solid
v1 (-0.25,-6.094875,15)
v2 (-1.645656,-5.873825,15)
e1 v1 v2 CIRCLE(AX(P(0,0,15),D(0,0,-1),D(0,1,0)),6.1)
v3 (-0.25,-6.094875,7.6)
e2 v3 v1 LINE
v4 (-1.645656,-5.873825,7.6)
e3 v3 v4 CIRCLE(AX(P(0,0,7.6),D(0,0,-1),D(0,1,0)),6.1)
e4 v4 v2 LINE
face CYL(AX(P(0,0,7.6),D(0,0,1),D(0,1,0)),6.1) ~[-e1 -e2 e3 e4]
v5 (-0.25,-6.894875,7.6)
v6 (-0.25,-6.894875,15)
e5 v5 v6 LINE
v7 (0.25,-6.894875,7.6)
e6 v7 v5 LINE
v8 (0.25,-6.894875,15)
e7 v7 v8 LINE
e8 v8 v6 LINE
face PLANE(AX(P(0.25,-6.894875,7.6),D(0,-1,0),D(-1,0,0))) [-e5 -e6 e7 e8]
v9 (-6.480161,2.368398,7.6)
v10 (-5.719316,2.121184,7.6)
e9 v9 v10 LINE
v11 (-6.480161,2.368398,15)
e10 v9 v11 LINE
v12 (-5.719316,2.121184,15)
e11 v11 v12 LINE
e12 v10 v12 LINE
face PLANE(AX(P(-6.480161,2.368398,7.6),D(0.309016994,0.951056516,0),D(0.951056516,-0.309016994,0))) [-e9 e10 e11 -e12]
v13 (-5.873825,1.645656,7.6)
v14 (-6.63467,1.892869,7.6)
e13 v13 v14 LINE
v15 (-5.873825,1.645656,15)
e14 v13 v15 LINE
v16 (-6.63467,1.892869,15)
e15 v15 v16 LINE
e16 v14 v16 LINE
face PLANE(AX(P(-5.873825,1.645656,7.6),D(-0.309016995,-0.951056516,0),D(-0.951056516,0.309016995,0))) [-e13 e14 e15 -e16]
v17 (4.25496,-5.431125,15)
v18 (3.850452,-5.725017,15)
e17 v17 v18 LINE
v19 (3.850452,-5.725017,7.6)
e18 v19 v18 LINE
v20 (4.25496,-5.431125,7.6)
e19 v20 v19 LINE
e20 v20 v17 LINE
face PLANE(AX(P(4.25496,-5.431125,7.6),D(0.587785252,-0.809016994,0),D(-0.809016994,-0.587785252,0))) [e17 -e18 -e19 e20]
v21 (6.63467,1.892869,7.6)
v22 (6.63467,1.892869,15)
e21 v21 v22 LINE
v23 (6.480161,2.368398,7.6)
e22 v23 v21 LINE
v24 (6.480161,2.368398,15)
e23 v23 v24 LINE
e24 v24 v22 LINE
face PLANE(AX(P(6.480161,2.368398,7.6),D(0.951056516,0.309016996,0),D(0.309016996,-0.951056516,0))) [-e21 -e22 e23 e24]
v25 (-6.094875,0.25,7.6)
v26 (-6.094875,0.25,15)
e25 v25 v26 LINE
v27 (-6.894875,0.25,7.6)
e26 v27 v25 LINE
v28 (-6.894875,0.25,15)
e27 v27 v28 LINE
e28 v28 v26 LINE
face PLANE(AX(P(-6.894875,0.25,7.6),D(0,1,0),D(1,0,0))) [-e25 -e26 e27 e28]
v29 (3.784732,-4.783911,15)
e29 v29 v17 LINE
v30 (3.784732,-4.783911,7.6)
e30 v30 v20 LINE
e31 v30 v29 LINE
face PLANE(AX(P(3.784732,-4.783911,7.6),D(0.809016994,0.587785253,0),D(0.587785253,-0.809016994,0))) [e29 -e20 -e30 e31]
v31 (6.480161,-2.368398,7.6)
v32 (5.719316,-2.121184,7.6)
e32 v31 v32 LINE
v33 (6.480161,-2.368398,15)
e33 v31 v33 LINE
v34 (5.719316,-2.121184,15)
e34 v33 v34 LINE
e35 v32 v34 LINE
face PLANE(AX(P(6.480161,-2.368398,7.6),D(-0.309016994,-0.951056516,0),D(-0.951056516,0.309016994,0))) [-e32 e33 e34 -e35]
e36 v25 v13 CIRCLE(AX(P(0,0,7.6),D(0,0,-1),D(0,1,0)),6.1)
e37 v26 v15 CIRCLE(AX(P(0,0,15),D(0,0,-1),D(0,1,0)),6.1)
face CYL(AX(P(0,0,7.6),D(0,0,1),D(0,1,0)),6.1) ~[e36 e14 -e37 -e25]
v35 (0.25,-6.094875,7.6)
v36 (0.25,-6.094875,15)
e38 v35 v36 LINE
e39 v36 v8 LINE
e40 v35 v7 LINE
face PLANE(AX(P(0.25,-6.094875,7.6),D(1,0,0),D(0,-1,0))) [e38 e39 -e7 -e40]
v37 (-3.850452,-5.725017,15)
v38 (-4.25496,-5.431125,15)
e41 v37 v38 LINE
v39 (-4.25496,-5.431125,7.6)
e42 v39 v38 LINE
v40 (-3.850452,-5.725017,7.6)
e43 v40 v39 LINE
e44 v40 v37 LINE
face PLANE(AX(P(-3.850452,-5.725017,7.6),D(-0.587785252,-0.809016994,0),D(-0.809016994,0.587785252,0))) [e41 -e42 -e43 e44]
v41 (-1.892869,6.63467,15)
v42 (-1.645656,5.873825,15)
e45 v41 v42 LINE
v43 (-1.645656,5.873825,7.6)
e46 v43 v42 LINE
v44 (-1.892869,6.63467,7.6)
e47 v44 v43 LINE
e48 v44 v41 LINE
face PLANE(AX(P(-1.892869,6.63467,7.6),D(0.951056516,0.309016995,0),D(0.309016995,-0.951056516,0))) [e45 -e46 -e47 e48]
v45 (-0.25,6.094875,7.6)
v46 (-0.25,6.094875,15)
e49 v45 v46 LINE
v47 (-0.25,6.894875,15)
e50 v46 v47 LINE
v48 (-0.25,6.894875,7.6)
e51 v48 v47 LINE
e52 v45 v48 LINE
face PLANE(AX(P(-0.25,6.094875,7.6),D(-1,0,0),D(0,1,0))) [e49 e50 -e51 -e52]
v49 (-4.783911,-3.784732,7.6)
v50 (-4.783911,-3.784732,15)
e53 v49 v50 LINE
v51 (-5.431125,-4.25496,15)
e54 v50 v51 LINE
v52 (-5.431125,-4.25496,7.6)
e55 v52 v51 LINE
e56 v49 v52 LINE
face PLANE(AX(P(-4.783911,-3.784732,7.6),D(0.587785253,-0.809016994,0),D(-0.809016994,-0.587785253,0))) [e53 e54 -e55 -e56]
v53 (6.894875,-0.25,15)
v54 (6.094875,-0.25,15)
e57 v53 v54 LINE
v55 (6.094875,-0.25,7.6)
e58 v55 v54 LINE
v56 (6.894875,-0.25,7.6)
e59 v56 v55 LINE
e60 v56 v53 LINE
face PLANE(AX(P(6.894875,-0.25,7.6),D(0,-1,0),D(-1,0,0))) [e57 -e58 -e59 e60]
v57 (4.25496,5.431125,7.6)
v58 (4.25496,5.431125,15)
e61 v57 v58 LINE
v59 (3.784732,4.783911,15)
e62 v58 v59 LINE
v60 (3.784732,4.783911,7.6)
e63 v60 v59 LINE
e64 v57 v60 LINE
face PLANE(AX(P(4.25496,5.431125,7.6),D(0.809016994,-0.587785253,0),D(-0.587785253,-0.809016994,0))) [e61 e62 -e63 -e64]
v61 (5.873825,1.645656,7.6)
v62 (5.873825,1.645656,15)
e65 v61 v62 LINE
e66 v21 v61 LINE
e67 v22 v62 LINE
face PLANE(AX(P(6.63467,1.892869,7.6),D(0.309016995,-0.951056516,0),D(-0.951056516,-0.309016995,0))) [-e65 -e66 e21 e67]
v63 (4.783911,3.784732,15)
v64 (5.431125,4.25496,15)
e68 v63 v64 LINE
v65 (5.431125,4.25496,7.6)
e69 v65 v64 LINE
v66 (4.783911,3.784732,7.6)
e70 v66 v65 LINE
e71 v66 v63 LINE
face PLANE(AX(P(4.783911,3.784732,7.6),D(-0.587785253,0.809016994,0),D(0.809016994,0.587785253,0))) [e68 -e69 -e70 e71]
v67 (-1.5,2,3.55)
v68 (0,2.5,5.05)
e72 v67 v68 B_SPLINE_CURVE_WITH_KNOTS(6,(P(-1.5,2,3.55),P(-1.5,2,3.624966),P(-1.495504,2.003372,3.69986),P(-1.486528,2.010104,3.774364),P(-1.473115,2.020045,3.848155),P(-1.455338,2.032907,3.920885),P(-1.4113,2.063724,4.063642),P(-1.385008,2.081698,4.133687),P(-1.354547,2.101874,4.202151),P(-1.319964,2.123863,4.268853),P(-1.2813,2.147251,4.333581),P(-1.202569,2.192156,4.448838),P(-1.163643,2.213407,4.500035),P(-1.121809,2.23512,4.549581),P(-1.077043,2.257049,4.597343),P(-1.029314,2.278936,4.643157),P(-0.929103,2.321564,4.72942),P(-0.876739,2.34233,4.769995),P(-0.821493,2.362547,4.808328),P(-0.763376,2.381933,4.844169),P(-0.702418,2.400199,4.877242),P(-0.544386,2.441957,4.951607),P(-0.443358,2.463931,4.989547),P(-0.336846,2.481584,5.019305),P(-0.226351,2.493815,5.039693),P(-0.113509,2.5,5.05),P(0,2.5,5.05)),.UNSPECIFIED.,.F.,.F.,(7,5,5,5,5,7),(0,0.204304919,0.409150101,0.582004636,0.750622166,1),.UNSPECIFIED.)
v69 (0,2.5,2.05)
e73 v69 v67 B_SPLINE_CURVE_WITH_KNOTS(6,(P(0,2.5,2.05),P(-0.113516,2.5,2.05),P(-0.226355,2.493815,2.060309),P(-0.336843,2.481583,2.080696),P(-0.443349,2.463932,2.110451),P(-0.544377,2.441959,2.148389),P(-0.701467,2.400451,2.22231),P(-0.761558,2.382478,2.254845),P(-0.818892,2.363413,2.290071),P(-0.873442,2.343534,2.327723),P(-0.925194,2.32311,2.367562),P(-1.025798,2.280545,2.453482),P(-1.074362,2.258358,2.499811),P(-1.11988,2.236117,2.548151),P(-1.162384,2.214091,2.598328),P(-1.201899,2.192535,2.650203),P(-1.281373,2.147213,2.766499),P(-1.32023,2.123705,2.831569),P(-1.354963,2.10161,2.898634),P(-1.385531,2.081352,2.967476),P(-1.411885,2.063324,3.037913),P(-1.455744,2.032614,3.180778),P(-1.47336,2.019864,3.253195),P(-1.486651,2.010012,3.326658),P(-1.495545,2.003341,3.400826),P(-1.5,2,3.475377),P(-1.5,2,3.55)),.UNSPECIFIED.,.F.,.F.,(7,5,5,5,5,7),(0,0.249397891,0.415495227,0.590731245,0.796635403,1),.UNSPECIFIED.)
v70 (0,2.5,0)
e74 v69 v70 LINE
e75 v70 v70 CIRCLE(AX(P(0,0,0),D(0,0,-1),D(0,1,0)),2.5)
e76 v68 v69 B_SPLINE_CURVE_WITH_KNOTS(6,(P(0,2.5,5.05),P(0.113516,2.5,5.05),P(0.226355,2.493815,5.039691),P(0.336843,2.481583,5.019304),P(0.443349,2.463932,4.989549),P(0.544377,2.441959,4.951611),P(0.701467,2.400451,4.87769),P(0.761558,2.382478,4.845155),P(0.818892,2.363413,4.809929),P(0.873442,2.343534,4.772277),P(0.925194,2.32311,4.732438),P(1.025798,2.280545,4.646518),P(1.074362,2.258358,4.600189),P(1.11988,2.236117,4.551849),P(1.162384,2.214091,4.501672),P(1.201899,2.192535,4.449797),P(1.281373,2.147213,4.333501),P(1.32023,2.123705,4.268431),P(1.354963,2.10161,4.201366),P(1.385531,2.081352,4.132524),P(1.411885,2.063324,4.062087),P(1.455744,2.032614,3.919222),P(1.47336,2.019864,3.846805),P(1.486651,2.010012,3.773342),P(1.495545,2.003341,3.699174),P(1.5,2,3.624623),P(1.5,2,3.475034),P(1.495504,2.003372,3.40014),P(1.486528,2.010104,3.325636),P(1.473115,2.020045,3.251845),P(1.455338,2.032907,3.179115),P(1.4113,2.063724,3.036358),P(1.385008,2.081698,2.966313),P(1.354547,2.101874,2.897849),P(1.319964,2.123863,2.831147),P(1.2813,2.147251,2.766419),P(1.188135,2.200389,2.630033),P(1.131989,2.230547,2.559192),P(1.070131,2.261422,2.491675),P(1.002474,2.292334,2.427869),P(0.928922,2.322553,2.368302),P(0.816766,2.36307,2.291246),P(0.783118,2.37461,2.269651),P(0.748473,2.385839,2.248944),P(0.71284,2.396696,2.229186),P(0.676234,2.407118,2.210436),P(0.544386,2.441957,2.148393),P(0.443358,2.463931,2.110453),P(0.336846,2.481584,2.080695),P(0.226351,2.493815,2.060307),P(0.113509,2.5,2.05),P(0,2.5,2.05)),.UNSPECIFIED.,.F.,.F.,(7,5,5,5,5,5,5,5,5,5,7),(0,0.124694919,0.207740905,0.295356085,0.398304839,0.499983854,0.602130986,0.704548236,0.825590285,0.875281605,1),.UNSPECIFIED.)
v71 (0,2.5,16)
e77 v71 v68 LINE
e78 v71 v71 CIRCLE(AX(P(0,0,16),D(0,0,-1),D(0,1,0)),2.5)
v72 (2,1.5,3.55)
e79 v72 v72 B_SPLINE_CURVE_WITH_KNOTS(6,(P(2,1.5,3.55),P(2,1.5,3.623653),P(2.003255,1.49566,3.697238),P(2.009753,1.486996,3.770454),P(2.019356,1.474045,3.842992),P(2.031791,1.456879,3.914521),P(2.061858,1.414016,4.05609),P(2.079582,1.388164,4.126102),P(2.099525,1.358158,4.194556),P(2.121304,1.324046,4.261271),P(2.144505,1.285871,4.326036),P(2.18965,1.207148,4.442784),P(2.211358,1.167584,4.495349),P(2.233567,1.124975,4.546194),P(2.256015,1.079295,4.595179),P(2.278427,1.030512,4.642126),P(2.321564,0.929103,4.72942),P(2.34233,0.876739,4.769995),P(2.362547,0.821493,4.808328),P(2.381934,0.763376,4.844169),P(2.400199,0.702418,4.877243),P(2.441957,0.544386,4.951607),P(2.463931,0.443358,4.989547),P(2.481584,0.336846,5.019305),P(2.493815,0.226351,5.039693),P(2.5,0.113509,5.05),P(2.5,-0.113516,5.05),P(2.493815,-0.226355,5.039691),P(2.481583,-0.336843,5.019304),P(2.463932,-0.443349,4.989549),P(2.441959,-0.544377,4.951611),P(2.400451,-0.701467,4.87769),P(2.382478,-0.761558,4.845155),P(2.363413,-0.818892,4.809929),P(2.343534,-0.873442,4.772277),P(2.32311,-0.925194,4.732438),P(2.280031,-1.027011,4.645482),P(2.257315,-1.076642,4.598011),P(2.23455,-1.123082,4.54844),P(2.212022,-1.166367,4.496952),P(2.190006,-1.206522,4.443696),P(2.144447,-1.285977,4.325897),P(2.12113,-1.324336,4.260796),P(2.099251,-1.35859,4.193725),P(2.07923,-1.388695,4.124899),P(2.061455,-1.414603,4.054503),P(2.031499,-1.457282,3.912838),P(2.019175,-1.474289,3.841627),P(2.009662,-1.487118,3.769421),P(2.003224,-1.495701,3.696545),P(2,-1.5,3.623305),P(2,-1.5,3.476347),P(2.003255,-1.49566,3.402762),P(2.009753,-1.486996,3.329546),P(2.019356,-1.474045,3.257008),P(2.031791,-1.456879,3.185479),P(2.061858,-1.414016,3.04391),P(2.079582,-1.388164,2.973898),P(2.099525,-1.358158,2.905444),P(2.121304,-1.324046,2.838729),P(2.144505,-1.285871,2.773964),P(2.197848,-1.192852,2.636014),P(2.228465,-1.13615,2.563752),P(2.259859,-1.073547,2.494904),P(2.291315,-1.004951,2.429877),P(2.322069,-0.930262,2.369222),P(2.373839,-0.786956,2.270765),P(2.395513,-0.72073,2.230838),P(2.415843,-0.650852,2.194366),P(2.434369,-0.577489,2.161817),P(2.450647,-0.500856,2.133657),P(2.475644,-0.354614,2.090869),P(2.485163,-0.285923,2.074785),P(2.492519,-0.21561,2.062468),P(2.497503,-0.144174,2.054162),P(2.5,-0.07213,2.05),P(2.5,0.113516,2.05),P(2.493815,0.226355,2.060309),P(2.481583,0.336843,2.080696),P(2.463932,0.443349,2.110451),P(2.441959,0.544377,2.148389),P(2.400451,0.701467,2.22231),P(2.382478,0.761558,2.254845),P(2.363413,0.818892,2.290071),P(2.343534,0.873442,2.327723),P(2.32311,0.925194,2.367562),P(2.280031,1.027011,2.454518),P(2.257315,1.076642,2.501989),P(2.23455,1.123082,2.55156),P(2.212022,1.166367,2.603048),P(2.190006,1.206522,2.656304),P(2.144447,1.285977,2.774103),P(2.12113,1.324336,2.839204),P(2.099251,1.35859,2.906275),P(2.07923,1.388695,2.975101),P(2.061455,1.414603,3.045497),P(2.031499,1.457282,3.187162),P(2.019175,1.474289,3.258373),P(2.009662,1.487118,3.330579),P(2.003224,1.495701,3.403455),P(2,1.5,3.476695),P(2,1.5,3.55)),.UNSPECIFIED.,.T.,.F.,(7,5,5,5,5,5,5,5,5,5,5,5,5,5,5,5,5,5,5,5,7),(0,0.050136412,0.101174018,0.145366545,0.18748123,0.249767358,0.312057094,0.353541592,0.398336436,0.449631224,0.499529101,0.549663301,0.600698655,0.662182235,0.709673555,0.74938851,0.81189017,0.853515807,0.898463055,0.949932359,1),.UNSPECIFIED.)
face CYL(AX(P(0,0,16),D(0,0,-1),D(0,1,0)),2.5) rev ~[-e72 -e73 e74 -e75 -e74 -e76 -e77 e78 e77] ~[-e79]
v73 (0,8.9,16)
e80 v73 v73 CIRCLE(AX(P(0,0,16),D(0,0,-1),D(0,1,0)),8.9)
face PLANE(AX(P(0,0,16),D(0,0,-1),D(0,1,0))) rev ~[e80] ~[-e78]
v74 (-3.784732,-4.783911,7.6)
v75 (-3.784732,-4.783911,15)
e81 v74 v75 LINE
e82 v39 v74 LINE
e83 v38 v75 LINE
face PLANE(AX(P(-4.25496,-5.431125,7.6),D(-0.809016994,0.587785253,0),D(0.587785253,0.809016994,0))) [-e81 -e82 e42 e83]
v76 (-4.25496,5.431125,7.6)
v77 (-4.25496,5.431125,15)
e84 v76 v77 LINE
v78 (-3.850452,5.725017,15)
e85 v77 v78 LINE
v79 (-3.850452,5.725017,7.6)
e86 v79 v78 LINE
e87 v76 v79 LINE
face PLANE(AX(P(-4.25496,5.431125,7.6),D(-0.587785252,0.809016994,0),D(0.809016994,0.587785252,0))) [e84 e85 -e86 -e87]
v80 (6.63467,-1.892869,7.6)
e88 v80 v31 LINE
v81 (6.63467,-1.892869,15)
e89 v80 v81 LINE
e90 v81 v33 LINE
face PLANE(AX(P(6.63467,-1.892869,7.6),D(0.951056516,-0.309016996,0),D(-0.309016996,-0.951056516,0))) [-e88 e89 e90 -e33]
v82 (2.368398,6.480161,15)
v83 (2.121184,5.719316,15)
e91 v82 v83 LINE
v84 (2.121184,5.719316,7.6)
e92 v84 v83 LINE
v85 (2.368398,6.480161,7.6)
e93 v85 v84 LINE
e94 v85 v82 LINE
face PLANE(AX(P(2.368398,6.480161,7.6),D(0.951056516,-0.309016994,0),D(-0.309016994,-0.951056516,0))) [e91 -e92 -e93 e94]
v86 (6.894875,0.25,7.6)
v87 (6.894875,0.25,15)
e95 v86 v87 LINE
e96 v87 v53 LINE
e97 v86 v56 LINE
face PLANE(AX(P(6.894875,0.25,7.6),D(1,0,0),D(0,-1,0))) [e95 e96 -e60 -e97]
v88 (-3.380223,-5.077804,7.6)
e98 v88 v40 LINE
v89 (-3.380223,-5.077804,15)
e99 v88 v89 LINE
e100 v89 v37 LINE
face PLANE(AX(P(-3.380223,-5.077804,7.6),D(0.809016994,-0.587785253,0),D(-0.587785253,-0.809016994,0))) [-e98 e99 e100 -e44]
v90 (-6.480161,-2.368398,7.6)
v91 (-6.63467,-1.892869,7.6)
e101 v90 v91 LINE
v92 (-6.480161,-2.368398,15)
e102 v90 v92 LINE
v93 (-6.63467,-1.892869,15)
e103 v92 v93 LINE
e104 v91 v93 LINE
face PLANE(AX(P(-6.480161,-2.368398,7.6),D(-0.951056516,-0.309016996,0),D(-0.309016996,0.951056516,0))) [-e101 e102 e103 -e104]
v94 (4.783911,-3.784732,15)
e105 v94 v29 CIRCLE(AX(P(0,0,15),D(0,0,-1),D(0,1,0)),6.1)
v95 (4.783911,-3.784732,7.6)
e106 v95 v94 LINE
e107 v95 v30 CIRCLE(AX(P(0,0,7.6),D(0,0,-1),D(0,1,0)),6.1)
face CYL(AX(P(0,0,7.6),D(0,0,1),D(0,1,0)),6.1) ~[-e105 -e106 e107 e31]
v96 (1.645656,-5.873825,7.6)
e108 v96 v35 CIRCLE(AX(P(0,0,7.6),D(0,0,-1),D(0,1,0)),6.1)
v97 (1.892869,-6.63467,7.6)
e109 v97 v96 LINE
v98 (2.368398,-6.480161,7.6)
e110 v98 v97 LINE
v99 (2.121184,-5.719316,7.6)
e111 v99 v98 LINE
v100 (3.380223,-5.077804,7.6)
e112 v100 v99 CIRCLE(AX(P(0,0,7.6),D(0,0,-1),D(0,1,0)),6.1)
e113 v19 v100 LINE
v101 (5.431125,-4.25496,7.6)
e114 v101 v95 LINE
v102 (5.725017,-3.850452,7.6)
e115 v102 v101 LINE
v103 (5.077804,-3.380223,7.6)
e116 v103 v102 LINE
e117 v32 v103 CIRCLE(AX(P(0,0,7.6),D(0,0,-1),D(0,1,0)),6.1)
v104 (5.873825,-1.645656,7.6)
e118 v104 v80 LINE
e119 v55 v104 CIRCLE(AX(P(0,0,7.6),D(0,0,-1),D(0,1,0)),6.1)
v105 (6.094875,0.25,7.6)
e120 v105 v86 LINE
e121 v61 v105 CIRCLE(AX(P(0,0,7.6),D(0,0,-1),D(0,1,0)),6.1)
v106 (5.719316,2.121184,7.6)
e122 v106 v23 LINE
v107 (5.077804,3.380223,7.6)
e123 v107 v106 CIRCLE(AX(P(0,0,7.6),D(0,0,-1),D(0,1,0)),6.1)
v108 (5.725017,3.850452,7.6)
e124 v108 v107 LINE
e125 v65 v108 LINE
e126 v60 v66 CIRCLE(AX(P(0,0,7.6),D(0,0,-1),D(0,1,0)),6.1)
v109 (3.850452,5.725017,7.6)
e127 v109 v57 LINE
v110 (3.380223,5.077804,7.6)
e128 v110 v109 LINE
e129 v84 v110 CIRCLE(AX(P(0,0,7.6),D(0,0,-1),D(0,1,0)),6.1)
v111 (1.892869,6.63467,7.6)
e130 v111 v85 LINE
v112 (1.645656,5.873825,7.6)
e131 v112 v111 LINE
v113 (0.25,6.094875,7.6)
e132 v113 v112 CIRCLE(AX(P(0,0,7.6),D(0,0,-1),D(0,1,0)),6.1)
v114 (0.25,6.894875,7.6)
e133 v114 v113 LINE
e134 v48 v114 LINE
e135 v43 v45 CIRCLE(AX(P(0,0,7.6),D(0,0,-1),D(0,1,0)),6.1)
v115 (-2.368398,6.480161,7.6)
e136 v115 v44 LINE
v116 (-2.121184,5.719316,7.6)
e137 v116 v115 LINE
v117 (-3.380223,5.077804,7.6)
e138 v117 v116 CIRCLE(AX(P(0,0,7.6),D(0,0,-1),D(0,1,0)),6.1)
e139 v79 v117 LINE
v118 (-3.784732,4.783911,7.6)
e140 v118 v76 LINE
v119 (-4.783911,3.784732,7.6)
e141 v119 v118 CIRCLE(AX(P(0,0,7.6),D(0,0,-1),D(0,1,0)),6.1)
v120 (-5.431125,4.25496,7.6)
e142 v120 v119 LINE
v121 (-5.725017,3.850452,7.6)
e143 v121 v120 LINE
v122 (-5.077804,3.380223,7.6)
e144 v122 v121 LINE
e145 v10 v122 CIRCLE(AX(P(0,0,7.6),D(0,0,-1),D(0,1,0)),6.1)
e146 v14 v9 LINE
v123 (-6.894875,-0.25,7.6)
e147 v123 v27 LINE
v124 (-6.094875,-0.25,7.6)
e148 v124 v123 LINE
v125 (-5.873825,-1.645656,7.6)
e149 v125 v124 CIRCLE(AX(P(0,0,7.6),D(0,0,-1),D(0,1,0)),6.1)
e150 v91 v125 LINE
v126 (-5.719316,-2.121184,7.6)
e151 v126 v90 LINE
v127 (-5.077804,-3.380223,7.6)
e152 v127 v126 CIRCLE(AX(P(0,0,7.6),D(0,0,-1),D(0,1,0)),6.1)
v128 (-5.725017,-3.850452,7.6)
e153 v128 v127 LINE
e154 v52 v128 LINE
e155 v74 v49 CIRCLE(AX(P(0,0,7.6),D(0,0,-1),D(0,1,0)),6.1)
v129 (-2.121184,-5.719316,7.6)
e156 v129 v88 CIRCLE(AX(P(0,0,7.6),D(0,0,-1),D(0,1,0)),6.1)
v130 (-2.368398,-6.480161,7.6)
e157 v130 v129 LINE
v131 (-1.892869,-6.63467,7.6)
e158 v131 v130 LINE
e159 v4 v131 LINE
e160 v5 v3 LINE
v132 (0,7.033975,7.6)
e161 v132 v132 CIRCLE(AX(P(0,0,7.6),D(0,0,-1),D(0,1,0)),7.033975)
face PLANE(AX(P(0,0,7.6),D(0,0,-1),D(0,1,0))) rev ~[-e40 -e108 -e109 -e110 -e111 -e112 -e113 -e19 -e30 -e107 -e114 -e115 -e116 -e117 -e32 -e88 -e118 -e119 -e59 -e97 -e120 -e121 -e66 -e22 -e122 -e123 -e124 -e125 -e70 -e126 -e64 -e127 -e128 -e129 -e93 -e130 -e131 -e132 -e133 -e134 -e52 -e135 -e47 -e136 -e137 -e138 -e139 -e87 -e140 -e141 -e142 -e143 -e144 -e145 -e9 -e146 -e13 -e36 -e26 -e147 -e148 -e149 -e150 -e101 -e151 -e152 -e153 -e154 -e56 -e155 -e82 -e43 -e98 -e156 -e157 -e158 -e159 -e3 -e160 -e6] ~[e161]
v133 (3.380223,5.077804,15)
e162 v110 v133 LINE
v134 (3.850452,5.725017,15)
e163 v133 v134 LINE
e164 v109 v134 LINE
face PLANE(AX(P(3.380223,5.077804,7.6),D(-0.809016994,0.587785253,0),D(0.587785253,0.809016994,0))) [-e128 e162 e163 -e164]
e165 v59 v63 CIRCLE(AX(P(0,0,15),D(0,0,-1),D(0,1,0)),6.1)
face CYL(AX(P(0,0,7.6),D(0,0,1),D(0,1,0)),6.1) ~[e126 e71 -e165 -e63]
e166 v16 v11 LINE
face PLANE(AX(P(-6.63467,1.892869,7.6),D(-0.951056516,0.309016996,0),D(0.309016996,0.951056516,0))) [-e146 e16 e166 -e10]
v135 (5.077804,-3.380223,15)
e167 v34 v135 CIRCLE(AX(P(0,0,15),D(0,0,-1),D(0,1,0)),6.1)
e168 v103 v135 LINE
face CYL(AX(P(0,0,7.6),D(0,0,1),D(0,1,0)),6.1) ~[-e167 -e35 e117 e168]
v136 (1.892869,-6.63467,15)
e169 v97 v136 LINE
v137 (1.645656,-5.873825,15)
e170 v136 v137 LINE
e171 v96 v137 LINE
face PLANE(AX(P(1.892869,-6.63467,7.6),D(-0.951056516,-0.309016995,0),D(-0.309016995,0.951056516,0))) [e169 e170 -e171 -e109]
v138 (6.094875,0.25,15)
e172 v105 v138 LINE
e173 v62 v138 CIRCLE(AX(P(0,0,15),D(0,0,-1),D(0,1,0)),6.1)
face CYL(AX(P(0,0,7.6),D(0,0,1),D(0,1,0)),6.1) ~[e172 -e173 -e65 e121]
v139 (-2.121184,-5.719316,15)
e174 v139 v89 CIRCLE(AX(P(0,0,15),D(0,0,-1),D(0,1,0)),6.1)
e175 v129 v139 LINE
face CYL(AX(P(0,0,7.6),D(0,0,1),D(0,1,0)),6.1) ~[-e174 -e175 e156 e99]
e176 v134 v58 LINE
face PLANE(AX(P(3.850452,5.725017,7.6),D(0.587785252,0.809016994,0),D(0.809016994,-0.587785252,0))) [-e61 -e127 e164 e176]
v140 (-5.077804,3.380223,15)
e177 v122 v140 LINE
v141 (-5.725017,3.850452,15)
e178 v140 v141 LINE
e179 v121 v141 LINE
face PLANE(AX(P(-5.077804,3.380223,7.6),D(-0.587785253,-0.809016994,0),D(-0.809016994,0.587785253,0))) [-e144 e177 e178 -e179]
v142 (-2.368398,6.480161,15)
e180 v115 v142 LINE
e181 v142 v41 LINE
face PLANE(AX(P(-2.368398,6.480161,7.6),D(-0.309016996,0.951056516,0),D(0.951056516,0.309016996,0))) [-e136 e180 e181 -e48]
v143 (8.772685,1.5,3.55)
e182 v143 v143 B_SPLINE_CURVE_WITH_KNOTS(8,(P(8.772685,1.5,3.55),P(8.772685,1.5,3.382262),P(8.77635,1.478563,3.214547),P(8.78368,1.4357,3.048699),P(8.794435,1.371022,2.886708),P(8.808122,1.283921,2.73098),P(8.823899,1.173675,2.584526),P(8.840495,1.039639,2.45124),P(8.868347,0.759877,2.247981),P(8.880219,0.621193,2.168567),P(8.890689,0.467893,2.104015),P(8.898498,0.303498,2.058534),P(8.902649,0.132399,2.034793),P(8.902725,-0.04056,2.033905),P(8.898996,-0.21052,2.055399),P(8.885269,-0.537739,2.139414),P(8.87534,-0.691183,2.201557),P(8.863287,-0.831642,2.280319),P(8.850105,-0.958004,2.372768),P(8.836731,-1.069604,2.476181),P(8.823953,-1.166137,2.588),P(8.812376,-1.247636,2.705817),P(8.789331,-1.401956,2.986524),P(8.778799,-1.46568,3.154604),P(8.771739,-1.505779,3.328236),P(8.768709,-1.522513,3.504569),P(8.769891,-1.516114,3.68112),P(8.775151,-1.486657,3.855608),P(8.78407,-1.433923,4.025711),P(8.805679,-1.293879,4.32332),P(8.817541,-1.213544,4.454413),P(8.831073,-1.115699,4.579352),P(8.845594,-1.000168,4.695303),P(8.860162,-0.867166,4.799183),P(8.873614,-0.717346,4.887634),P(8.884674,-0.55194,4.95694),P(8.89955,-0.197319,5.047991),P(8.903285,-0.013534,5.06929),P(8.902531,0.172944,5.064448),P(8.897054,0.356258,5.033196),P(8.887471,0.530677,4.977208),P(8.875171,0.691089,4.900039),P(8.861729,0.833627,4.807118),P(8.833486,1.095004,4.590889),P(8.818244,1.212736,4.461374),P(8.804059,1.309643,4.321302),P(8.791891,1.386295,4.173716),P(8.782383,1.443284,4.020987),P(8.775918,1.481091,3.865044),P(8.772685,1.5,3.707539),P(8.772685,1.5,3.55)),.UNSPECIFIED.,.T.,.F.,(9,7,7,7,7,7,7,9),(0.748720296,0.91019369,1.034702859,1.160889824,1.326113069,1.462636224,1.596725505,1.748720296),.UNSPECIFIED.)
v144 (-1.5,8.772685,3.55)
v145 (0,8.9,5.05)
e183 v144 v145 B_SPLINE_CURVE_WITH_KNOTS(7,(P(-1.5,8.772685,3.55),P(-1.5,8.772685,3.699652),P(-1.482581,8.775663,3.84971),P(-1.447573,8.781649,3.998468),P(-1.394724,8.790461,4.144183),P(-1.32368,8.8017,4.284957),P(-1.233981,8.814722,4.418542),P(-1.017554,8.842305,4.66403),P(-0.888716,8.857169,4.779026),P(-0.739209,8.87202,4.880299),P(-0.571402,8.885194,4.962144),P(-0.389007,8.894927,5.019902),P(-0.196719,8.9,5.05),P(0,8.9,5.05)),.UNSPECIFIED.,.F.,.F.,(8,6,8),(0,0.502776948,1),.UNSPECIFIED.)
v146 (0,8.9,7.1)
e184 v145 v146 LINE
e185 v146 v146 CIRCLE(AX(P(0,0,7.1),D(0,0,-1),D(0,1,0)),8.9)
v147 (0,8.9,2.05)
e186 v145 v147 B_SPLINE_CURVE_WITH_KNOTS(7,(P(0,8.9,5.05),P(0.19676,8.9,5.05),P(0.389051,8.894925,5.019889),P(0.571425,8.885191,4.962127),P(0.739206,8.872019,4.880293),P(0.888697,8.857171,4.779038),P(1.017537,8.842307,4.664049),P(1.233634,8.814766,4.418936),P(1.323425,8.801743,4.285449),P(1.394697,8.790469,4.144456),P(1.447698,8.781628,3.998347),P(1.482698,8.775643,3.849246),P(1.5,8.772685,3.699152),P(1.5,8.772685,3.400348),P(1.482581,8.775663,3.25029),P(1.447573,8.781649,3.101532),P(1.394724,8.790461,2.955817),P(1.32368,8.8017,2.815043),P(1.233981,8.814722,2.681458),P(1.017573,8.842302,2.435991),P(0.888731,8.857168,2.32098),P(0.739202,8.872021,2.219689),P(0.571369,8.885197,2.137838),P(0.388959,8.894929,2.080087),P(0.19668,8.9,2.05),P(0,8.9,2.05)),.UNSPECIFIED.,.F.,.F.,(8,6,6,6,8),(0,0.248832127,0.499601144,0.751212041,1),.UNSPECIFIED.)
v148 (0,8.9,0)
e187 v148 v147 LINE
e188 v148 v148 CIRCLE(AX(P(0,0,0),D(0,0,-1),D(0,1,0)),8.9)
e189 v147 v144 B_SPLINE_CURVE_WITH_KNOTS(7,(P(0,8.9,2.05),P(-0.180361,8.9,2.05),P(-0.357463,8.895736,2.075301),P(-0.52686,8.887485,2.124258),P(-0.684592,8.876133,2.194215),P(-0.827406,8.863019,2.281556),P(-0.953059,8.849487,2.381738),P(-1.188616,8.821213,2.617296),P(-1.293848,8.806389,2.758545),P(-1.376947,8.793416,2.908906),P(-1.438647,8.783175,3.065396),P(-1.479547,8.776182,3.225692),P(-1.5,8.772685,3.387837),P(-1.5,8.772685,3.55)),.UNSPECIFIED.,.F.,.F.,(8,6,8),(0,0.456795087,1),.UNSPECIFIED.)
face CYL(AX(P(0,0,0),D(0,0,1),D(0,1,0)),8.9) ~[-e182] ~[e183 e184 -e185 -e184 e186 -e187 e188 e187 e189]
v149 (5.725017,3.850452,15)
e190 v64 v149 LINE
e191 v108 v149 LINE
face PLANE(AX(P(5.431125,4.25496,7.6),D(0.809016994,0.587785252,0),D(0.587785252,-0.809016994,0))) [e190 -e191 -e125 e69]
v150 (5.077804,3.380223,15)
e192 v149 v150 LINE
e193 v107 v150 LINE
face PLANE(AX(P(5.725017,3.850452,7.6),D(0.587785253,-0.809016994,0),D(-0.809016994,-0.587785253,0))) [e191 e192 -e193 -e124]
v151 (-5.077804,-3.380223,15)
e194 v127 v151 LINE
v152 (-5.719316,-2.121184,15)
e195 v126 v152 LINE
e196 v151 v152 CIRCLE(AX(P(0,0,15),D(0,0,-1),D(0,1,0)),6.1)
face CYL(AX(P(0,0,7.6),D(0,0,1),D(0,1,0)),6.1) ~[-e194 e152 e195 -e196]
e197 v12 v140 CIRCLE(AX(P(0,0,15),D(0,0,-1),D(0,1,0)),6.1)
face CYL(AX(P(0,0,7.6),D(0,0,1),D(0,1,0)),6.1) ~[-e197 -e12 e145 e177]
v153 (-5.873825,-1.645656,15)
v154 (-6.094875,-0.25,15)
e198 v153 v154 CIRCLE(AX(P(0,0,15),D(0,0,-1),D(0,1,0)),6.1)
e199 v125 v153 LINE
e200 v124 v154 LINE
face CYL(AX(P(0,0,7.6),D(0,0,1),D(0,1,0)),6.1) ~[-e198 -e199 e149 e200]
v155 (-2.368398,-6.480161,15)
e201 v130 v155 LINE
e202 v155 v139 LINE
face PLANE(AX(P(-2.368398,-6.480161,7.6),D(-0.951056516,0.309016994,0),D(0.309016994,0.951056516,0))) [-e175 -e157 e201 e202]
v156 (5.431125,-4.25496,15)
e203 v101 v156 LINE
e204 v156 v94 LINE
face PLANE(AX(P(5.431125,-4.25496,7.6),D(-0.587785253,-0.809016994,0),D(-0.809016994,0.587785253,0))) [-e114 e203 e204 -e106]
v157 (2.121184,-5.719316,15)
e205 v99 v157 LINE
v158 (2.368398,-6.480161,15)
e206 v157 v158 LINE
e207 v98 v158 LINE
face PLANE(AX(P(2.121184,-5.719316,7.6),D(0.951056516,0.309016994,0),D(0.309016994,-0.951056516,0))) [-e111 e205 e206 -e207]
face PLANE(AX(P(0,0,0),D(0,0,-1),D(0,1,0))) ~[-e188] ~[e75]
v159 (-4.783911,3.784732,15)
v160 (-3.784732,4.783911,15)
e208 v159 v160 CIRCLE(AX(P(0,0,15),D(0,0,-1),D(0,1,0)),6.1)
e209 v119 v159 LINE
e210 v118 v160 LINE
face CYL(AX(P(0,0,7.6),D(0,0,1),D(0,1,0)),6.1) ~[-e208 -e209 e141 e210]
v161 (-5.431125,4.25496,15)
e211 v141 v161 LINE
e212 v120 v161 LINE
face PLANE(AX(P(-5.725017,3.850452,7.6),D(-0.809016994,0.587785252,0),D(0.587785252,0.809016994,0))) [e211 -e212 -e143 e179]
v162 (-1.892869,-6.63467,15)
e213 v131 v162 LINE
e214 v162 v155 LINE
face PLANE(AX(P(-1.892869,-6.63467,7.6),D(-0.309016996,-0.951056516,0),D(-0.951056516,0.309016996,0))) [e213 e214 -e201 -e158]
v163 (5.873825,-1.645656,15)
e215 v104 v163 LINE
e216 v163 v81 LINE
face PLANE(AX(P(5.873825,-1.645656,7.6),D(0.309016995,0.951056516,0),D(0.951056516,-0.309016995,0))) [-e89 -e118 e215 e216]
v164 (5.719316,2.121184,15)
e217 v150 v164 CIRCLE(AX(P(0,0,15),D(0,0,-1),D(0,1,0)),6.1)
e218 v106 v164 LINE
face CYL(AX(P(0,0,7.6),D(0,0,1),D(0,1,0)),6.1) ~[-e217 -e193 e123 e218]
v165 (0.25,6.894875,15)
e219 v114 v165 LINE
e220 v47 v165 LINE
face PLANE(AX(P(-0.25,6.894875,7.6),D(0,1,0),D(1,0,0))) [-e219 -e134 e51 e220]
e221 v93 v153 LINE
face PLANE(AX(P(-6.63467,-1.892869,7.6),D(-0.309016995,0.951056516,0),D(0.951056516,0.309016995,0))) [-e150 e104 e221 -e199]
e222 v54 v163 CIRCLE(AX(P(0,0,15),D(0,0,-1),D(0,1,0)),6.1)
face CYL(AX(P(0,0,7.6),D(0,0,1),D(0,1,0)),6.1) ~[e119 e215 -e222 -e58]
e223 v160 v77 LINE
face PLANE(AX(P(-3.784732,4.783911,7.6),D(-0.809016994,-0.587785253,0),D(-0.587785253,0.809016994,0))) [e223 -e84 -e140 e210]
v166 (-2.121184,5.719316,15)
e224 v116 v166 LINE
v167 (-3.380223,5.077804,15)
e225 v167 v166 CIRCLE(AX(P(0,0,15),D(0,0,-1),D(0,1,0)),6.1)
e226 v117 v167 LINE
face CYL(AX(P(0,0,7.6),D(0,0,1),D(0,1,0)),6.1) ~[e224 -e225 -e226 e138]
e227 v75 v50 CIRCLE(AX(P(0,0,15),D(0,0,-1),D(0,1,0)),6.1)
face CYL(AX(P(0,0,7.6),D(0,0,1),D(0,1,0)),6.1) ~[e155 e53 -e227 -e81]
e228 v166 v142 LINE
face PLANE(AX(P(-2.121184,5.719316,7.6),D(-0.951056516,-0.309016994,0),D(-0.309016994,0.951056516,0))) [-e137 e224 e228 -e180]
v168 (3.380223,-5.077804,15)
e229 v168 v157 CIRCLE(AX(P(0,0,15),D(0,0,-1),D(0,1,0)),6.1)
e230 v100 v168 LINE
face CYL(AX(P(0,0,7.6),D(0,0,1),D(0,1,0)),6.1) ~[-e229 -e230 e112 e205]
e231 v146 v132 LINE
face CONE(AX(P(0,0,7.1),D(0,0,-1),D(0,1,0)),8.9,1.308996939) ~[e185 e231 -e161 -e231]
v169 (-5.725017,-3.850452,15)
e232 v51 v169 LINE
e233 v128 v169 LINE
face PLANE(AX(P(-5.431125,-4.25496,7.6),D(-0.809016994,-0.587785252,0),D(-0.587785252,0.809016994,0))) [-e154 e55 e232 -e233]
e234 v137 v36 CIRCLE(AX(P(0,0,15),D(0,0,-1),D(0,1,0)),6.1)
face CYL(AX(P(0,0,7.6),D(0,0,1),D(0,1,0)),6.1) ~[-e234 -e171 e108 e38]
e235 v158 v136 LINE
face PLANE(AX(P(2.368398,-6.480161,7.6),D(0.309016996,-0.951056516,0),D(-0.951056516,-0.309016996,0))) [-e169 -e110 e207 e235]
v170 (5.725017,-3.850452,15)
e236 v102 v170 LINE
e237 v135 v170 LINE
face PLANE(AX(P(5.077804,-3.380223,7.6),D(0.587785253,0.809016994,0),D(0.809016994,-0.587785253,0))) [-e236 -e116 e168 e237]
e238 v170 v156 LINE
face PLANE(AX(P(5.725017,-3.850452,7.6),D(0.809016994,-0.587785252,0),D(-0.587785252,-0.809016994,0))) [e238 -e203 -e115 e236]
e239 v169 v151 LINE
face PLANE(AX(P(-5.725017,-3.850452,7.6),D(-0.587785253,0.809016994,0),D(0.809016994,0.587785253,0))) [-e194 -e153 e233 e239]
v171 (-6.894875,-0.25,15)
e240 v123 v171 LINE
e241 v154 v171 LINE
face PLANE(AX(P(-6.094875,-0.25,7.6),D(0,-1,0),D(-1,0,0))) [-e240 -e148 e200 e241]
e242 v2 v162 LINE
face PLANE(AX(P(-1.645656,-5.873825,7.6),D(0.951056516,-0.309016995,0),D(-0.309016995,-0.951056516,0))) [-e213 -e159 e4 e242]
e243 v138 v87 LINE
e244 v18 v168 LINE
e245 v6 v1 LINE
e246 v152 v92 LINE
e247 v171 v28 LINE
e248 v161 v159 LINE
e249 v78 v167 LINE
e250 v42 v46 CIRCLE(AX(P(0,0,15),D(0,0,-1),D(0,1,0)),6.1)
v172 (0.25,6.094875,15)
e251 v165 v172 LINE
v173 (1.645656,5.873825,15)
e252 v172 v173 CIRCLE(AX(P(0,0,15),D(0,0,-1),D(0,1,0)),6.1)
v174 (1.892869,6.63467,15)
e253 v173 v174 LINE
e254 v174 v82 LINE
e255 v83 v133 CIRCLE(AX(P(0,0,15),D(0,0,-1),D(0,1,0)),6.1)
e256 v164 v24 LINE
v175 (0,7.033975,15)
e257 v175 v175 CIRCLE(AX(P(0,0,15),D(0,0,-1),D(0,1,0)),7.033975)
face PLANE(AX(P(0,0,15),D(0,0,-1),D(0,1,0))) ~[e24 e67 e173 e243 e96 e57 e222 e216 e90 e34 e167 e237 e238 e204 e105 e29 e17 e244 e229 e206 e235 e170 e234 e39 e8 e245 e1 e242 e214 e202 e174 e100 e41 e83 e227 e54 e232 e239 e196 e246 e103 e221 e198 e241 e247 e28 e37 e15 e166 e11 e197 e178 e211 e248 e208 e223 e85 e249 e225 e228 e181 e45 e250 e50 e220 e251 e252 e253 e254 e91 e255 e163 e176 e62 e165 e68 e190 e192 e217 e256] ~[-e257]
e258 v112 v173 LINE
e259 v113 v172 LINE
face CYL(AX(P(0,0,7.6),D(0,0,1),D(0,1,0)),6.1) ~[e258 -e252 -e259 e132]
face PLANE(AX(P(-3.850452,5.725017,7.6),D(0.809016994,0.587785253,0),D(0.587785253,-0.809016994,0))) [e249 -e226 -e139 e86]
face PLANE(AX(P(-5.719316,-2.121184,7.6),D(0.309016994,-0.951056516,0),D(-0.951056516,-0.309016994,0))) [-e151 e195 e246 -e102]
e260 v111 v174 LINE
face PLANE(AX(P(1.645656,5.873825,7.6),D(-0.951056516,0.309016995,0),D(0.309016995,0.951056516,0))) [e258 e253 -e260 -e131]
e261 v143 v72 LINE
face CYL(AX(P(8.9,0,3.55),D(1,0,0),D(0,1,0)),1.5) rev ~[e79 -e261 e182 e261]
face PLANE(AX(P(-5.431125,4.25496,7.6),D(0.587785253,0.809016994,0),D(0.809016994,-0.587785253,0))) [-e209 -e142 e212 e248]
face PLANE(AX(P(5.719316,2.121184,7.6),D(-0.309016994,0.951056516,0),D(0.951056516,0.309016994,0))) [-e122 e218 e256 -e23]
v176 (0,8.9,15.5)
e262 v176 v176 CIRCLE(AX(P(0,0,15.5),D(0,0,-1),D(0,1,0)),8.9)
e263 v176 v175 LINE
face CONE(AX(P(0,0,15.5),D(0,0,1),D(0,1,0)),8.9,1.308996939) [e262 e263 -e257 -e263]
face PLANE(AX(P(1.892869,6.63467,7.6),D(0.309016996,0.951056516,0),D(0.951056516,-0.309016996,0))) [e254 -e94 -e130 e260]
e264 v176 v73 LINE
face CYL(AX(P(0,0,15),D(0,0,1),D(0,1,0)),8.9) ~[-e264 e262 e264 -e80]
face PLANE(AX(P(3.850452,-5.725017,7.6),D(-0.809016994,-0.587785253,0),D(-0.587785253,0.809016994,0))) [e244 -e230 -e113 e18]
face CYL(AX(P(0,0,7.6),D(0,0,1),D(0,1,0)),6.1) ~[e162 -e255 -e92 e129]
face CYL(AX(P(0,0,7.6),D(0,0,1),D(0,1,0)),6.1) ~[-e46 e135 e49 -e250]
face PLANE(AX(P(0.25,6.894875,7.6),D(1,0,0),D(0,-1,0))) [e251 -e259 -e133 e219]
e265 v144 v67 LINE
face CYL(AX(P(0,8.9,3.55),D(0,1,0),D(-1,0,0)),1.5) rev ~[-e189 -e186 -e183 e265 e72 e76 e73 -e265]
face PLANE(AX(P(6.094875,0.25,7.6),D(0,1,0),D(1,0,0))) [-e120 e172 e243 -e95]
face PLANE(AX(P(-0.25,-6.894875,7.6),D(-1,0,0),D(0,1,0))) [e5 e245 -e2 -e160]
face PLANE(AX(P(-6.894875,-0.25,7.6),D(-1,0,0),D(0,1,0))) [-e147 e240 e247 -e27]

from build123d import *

# Parameters (mm, degrees)
CHAMFER1_SIZE       = 0.5
CHAMFER1_SIZE2      = 1.866025404
CHAMFER2_SIZE       = 0.5
CHAMFER2_SIZE2      = 1.866025404
BOSS_EXTRUDE1_DEPTH = 7.4
SKETCH6_R           = 1.5
CUT_EXTRUDE1_DEPTH  = 10
CIRPATTERN1_COUNT   = 2
CIRPATTERN1_ANGLE   = 270


with BuildPart() as part:
    # Sketch2 → Revolve1 (revolve)
    with BuildSketch(Plane(origin=(0, 0, 0), x_dir=(0, 0, -1), z_dir=(1, 0, 0))):
        Polygon((-16, 2.5), (0, 2.5), (0, 8.9), (-7.6, 8.9), (-7.6, 6.1), (-15, 6.1), (-15, 8.9), (-16, 8.9), align=None)
    revolve(axis=Axis((0, 0, 79.609460318), (0, 0, -1)))

    # Chamfer1
    chamfer1_edges = [part.edges().sort_by_distance(p)[0] for p in [
        (0, -8.9, 15),
    ]]
    chamfer1_side = [part.faces().sort_by_distance(p)[0] for p in [
        (0, -8.9, 15.5),
    ]]
    chamfer(chamfer1_edges, length=CHAMFER1_SIZE, length2=CHAMFER1_SIZE2, reference=chamfer1_side[0])

    # Chamfer2
    chamfer2_edges = [part.edges().sort_by_distance(p)[0] for p in [
        (0, -8.9, 7.6),
    ]]
    chamfer2_side = [part.faces().sort_by_distance(p)[0] for p in [
        (0, -8.9, 3.8),
    ]]
    chamfer(chamfer2_edges, length=CHAMFER2_SIZE, length2=CHAMFER2_SIZE2, reference=chamfer2_side[0])

    # Sketch4 → Boss-Extrude1 (add)
    with BuildSketch(Plane.XY.offset(7.6)):
        with BuildLine():
            Line((1.645655792, 5.873824735), (1.892869388, 6.634669948))
            Line((1.892869388, 6.634669948), (2.368397646, 6.48016145))
            Line((2.368397646, 6.48016145), (2.121184051, 5.719316237))
            ThreePointArc((2.121184051, 5.719316237), (1.885003666, 5.801444749), (1.645655792, 5.873824735))
        make_face()
        with BuildLine():
            Line((-0.25, 6.094874896), (-0.25, 6.894874896))
            Line((-0.25, 6.894874896), (0.25, 6.894874896))
            Line((0.25, 6.894874896), (0.25, 6.094874896))
            ThreePointArc((0.25, 6.094874896), (0, 6.1), (-0.25, 6.094874896))
        make_face()
        with BuildLine():
            Line((3.38022333, 5.077803683), (3.850451532, 5.725017278))
            Line((3.850451532, 5.725017278), (4.254960029, 5.431124652))
            Line((4.254960029, 5.431124652), (3.784731827, 4.783911057))
            ThreePointArc((3.784731827, 4.783911057), (3.585490039, 4.935003666), (3.38022333, 5.077803683))
        make_face()
        with BuildLine():
            Line((4.783911057, 3.784731827), (5.431124652, 4.254960029))
            Line((5.431124652, 4.254960029), (5.725017278, 3.850451532))
            Line((5.725017278, 3.850451532), (5.077803683, 3.38022333))
            ThreePointArc((5.077803683, 3.38022333), (4.935003666, 3.585490039), (4.783911057, 3.784731827))
        make_face()
        with BuildLine():
            Line((5.719316237, 2.121184051), (6.48016145, 2.368397646))
            Line((6.48016145, 2.368397646), (6.634669948, 1.892869388))
            Line((6.634669948, 1.892869388), (5.873824735, 1.645655792))
            ThreePointArc((5.873824735, 1.645655792), (5.801444749, 1.885003666), (5.719316237, 2.121184051))
        make_face()
        with BuildLine():
            Line((6.094874896, 0.25), (6.894874896, 0.25))
            Line((6.894874896, 0.25), (6.894874896, -0.25))
            Line((6.894874896, -0.25), (6.094874896, -0.25))
            ThreePointArc((6.094874896, -0.25), (6.1, 0), (6.094874896, 0.25))
        make_face()
        with BuildLine():
            Line((5.873824735, -1.645655792), (6.634669948, -1.892869388))
            Line((6.634669948, -1.892869388), (6.48016145, -2.368397646))
            Line((6.48016145, -2.368397646), (5.719316237, -2.121184051))
            ThreePointArc((5.719316237, -2.121184051), (5.801444749, -1.885003666), (5.873824735, -1.645655792))
        make_face()
        with BuildLine():
            Line((5.077803683, -3.38022333), (5.725017278, -3.850451532))
            Line((5.725017278, -3.850451532), (5.431124652, -4.254960029))
            Line((5.431124652, -4.254960029), (4.783911057, -3.784731827))
            ThreePointArc((4.783911057, -3.784731827), (4.935003666, -3.585490039), (5.077803683, -3.38022333))
        make_face()
        with BuildLine():
            Line((3.784731827, -4.783911057), (4.254960029, -5.431124652))
            Line((4.254960029, -5.431124652), (3.850451532, -5.725017278))
            Line((3.850451532, -5.725017278), (3.38022333, -5.077803683))
            ThreePointArc((3.38022333, -5.077803683), (3.585490039, -4.935003666), (3.784731827, -4.783911057))
        make_face()
        with BuildLine():
            Line((2.121184051, -5.719316237), (2.368397646, -6.48016145))
            Line((2.368397646, -6.48016145), (1.892869388, -6.634669948))
            Line((1.892869388, -6.634669948), (1.645655792, -5.873824735))
            ThreePointArc((1.645655792, -5.873824735), (1.885003666, -5.801444749), (2.121184051, -5.719316237))
        make_face()
        with BuildLine():
            Line((0.25, -6.094874896), (0.25, -6.894874896))
            Line((0.25, -6.894874896), (-0.25, -6.894874896))
            Line((-0.25, -6.894874896), (-0.25, -6.094874896))
            ThreePointArc((-0.25, -6.094874896), (0, -6.1), (0.25, -6.094874896))
        make_face()
        with BuildLine():
            Line((-1.645655792, -5.873824735), (-1.892869388, -6.634669948))
            Line((-1.892869388, -6.634669948), (-2.368397646, -6.48016145))
            Line((-2.368397646, -6.48016145), (-2.121184051, -5.719316237))
            ThreePointArc((-2.121184051, -5.719316237), (-1.885003666, -5.801444749), (-1.645655792, -5.873824735))
        make_face()
        with BuildLine():
            Line((-3.38022333, -5.077803683), (-3.850451532, -5.725017278))
            Line((-3.850451532, -5.725017278), (-4.254960029, -5.431124652))
            Line((-4.254960029, -5.431124652), (-3.784731827, -4.783911057))
            ThreePointArc((-3.784731827, -4.783911057), (-3.585490039, -4.935003666), (-3.38022333, -5.077803683))
        make_face()
        with BuildLine():
            Line((-4.783911057, -3.784731827), (-5.431124652, -4.254960029))
            Line((-5.431124652, -4.254960029), (-5.725017278, -3.850451532))
            Line((-5.725017278, -3.850451532), (-5.077803683, -3.38022333))
            ThreePointArc((-5.077803683, -3.38022333), (-4.935003666, -3.585490039), (-4.783911057, -3.784731827))
        make_face()
        with BuildLine():
            Line((-5.719316237, -2.121184051), (-6.48016145, -2.368397646))
            Line((-6.48016145, -2.368397646), (-6.634669948, -1.892869388))
            Line((-6.634669948, -1.892869388), (-5.873824735, -1.645655792))
            ThreePointArc((-5.873824735, -1.645655792), (-5.801444749, -1.885003666), (-5.719316237, -2.121184051))
        make_face()
        with BuildLine():
            Line((-6.094874896, -0.25), (-6.894874896, -0.25))
            Line((-6.894874896, -0.25), (-6.894874896, 0.25))
            Line((-6.894874896, 0.25), (-6.094874896, 0.25))
            ThreePointArc((-6.094874896, 0.25), (-6.1, 0), (-6.094874896, -0.25))
        make_face()
        with BuildLine():
            Line((-5.873824735, 1.645655792), (-6.634669948, 1.892869388))
            Line((-6.634669948, 1.892869388), (-6.48016145, 2.368397646))
            Line((-6.48016145, 2.368397646), (-5.719316237, 2.121184051))
            ThreePointArc((-5.719316237, 2.121184051), (-5.801444749, 1.885003666), (-5.873824735, 1.645655792))
        make_face()
        with BuildLine():
            Line((-5.077803683, 3.38022333), (-5.725017278, 3.850451532))
            Line((-5.725017278, 3.850451532), (-5.431124652, 4.254960029))
            Line((-5.431124652, 4.254960029), (-4.783911057, 3.784731827))
            ThreePointArc((-4.783911057, 3.784731827), (-4.935003666, 3.585490039), (-5.077803683, 3.38022333))
        make_face()
        with BuildLine():
            Line((-3.784731827, 4.783911057), (-4.254960029, 5.431124652))
            Line((-4.254960029, 5.431124652), (-3.850451532, 5.725017278))
            Line((-3.850451532, 5.725017278), (-3.38022333, 5.077803683))
            ThreePointArc((-3.38022333, 5.077803683), (-3.585490039, 4.935003666), (-3.784731827, 4.783911057))
        make_face()
        with BuildLine():
            Line((-2.121184051, 5.719316237), (-2.368397646, 6.48016145))
            Line((-2.368397646, 6.48016145), (-1.892869388, 6.634669948))
            Line((-1.892869388, 6.634669948), (-1.645655792, 5.873824735))
            ThreePointArc((-1.645655792, 5.873824735), (-1.885003666, 5.801444749), (-2.121184051, 5.719316237))
        make_face()
    extrude(amount=BOSS_EXTRUDE1_DEPTH)

    # Sketch6 → Cut-Extrude1 (cut)
    with BuildSketch(Plane(origin=(0, 8.9, 0), x_dir=(-1, 0, 0), z_dir=(0, 1, 0))):
        with Locations((0, 3.55)):
            Circle(SKETCH6_R)
    cut_extrude1 = extrude(amount=-CUT_EXTRUDE1_DEPTH, mode=Mode.SUBTRACT)

    # CirPattern1: Cut-Extrude1 ×2 about axis
    cirpattern1_axis = Axis((0, 0, 0), (0, 0, 1))
    for i in range(1, CIRPATTERN1_COUNT):
        add(cut_extrude1.rotate(cirpattern1_axis, i * CIRPATTERN1_ANGLE / (CIRPATTERN1_COUNT - 1)), mode=Mode.SUBTRACT)


solid = part.part
